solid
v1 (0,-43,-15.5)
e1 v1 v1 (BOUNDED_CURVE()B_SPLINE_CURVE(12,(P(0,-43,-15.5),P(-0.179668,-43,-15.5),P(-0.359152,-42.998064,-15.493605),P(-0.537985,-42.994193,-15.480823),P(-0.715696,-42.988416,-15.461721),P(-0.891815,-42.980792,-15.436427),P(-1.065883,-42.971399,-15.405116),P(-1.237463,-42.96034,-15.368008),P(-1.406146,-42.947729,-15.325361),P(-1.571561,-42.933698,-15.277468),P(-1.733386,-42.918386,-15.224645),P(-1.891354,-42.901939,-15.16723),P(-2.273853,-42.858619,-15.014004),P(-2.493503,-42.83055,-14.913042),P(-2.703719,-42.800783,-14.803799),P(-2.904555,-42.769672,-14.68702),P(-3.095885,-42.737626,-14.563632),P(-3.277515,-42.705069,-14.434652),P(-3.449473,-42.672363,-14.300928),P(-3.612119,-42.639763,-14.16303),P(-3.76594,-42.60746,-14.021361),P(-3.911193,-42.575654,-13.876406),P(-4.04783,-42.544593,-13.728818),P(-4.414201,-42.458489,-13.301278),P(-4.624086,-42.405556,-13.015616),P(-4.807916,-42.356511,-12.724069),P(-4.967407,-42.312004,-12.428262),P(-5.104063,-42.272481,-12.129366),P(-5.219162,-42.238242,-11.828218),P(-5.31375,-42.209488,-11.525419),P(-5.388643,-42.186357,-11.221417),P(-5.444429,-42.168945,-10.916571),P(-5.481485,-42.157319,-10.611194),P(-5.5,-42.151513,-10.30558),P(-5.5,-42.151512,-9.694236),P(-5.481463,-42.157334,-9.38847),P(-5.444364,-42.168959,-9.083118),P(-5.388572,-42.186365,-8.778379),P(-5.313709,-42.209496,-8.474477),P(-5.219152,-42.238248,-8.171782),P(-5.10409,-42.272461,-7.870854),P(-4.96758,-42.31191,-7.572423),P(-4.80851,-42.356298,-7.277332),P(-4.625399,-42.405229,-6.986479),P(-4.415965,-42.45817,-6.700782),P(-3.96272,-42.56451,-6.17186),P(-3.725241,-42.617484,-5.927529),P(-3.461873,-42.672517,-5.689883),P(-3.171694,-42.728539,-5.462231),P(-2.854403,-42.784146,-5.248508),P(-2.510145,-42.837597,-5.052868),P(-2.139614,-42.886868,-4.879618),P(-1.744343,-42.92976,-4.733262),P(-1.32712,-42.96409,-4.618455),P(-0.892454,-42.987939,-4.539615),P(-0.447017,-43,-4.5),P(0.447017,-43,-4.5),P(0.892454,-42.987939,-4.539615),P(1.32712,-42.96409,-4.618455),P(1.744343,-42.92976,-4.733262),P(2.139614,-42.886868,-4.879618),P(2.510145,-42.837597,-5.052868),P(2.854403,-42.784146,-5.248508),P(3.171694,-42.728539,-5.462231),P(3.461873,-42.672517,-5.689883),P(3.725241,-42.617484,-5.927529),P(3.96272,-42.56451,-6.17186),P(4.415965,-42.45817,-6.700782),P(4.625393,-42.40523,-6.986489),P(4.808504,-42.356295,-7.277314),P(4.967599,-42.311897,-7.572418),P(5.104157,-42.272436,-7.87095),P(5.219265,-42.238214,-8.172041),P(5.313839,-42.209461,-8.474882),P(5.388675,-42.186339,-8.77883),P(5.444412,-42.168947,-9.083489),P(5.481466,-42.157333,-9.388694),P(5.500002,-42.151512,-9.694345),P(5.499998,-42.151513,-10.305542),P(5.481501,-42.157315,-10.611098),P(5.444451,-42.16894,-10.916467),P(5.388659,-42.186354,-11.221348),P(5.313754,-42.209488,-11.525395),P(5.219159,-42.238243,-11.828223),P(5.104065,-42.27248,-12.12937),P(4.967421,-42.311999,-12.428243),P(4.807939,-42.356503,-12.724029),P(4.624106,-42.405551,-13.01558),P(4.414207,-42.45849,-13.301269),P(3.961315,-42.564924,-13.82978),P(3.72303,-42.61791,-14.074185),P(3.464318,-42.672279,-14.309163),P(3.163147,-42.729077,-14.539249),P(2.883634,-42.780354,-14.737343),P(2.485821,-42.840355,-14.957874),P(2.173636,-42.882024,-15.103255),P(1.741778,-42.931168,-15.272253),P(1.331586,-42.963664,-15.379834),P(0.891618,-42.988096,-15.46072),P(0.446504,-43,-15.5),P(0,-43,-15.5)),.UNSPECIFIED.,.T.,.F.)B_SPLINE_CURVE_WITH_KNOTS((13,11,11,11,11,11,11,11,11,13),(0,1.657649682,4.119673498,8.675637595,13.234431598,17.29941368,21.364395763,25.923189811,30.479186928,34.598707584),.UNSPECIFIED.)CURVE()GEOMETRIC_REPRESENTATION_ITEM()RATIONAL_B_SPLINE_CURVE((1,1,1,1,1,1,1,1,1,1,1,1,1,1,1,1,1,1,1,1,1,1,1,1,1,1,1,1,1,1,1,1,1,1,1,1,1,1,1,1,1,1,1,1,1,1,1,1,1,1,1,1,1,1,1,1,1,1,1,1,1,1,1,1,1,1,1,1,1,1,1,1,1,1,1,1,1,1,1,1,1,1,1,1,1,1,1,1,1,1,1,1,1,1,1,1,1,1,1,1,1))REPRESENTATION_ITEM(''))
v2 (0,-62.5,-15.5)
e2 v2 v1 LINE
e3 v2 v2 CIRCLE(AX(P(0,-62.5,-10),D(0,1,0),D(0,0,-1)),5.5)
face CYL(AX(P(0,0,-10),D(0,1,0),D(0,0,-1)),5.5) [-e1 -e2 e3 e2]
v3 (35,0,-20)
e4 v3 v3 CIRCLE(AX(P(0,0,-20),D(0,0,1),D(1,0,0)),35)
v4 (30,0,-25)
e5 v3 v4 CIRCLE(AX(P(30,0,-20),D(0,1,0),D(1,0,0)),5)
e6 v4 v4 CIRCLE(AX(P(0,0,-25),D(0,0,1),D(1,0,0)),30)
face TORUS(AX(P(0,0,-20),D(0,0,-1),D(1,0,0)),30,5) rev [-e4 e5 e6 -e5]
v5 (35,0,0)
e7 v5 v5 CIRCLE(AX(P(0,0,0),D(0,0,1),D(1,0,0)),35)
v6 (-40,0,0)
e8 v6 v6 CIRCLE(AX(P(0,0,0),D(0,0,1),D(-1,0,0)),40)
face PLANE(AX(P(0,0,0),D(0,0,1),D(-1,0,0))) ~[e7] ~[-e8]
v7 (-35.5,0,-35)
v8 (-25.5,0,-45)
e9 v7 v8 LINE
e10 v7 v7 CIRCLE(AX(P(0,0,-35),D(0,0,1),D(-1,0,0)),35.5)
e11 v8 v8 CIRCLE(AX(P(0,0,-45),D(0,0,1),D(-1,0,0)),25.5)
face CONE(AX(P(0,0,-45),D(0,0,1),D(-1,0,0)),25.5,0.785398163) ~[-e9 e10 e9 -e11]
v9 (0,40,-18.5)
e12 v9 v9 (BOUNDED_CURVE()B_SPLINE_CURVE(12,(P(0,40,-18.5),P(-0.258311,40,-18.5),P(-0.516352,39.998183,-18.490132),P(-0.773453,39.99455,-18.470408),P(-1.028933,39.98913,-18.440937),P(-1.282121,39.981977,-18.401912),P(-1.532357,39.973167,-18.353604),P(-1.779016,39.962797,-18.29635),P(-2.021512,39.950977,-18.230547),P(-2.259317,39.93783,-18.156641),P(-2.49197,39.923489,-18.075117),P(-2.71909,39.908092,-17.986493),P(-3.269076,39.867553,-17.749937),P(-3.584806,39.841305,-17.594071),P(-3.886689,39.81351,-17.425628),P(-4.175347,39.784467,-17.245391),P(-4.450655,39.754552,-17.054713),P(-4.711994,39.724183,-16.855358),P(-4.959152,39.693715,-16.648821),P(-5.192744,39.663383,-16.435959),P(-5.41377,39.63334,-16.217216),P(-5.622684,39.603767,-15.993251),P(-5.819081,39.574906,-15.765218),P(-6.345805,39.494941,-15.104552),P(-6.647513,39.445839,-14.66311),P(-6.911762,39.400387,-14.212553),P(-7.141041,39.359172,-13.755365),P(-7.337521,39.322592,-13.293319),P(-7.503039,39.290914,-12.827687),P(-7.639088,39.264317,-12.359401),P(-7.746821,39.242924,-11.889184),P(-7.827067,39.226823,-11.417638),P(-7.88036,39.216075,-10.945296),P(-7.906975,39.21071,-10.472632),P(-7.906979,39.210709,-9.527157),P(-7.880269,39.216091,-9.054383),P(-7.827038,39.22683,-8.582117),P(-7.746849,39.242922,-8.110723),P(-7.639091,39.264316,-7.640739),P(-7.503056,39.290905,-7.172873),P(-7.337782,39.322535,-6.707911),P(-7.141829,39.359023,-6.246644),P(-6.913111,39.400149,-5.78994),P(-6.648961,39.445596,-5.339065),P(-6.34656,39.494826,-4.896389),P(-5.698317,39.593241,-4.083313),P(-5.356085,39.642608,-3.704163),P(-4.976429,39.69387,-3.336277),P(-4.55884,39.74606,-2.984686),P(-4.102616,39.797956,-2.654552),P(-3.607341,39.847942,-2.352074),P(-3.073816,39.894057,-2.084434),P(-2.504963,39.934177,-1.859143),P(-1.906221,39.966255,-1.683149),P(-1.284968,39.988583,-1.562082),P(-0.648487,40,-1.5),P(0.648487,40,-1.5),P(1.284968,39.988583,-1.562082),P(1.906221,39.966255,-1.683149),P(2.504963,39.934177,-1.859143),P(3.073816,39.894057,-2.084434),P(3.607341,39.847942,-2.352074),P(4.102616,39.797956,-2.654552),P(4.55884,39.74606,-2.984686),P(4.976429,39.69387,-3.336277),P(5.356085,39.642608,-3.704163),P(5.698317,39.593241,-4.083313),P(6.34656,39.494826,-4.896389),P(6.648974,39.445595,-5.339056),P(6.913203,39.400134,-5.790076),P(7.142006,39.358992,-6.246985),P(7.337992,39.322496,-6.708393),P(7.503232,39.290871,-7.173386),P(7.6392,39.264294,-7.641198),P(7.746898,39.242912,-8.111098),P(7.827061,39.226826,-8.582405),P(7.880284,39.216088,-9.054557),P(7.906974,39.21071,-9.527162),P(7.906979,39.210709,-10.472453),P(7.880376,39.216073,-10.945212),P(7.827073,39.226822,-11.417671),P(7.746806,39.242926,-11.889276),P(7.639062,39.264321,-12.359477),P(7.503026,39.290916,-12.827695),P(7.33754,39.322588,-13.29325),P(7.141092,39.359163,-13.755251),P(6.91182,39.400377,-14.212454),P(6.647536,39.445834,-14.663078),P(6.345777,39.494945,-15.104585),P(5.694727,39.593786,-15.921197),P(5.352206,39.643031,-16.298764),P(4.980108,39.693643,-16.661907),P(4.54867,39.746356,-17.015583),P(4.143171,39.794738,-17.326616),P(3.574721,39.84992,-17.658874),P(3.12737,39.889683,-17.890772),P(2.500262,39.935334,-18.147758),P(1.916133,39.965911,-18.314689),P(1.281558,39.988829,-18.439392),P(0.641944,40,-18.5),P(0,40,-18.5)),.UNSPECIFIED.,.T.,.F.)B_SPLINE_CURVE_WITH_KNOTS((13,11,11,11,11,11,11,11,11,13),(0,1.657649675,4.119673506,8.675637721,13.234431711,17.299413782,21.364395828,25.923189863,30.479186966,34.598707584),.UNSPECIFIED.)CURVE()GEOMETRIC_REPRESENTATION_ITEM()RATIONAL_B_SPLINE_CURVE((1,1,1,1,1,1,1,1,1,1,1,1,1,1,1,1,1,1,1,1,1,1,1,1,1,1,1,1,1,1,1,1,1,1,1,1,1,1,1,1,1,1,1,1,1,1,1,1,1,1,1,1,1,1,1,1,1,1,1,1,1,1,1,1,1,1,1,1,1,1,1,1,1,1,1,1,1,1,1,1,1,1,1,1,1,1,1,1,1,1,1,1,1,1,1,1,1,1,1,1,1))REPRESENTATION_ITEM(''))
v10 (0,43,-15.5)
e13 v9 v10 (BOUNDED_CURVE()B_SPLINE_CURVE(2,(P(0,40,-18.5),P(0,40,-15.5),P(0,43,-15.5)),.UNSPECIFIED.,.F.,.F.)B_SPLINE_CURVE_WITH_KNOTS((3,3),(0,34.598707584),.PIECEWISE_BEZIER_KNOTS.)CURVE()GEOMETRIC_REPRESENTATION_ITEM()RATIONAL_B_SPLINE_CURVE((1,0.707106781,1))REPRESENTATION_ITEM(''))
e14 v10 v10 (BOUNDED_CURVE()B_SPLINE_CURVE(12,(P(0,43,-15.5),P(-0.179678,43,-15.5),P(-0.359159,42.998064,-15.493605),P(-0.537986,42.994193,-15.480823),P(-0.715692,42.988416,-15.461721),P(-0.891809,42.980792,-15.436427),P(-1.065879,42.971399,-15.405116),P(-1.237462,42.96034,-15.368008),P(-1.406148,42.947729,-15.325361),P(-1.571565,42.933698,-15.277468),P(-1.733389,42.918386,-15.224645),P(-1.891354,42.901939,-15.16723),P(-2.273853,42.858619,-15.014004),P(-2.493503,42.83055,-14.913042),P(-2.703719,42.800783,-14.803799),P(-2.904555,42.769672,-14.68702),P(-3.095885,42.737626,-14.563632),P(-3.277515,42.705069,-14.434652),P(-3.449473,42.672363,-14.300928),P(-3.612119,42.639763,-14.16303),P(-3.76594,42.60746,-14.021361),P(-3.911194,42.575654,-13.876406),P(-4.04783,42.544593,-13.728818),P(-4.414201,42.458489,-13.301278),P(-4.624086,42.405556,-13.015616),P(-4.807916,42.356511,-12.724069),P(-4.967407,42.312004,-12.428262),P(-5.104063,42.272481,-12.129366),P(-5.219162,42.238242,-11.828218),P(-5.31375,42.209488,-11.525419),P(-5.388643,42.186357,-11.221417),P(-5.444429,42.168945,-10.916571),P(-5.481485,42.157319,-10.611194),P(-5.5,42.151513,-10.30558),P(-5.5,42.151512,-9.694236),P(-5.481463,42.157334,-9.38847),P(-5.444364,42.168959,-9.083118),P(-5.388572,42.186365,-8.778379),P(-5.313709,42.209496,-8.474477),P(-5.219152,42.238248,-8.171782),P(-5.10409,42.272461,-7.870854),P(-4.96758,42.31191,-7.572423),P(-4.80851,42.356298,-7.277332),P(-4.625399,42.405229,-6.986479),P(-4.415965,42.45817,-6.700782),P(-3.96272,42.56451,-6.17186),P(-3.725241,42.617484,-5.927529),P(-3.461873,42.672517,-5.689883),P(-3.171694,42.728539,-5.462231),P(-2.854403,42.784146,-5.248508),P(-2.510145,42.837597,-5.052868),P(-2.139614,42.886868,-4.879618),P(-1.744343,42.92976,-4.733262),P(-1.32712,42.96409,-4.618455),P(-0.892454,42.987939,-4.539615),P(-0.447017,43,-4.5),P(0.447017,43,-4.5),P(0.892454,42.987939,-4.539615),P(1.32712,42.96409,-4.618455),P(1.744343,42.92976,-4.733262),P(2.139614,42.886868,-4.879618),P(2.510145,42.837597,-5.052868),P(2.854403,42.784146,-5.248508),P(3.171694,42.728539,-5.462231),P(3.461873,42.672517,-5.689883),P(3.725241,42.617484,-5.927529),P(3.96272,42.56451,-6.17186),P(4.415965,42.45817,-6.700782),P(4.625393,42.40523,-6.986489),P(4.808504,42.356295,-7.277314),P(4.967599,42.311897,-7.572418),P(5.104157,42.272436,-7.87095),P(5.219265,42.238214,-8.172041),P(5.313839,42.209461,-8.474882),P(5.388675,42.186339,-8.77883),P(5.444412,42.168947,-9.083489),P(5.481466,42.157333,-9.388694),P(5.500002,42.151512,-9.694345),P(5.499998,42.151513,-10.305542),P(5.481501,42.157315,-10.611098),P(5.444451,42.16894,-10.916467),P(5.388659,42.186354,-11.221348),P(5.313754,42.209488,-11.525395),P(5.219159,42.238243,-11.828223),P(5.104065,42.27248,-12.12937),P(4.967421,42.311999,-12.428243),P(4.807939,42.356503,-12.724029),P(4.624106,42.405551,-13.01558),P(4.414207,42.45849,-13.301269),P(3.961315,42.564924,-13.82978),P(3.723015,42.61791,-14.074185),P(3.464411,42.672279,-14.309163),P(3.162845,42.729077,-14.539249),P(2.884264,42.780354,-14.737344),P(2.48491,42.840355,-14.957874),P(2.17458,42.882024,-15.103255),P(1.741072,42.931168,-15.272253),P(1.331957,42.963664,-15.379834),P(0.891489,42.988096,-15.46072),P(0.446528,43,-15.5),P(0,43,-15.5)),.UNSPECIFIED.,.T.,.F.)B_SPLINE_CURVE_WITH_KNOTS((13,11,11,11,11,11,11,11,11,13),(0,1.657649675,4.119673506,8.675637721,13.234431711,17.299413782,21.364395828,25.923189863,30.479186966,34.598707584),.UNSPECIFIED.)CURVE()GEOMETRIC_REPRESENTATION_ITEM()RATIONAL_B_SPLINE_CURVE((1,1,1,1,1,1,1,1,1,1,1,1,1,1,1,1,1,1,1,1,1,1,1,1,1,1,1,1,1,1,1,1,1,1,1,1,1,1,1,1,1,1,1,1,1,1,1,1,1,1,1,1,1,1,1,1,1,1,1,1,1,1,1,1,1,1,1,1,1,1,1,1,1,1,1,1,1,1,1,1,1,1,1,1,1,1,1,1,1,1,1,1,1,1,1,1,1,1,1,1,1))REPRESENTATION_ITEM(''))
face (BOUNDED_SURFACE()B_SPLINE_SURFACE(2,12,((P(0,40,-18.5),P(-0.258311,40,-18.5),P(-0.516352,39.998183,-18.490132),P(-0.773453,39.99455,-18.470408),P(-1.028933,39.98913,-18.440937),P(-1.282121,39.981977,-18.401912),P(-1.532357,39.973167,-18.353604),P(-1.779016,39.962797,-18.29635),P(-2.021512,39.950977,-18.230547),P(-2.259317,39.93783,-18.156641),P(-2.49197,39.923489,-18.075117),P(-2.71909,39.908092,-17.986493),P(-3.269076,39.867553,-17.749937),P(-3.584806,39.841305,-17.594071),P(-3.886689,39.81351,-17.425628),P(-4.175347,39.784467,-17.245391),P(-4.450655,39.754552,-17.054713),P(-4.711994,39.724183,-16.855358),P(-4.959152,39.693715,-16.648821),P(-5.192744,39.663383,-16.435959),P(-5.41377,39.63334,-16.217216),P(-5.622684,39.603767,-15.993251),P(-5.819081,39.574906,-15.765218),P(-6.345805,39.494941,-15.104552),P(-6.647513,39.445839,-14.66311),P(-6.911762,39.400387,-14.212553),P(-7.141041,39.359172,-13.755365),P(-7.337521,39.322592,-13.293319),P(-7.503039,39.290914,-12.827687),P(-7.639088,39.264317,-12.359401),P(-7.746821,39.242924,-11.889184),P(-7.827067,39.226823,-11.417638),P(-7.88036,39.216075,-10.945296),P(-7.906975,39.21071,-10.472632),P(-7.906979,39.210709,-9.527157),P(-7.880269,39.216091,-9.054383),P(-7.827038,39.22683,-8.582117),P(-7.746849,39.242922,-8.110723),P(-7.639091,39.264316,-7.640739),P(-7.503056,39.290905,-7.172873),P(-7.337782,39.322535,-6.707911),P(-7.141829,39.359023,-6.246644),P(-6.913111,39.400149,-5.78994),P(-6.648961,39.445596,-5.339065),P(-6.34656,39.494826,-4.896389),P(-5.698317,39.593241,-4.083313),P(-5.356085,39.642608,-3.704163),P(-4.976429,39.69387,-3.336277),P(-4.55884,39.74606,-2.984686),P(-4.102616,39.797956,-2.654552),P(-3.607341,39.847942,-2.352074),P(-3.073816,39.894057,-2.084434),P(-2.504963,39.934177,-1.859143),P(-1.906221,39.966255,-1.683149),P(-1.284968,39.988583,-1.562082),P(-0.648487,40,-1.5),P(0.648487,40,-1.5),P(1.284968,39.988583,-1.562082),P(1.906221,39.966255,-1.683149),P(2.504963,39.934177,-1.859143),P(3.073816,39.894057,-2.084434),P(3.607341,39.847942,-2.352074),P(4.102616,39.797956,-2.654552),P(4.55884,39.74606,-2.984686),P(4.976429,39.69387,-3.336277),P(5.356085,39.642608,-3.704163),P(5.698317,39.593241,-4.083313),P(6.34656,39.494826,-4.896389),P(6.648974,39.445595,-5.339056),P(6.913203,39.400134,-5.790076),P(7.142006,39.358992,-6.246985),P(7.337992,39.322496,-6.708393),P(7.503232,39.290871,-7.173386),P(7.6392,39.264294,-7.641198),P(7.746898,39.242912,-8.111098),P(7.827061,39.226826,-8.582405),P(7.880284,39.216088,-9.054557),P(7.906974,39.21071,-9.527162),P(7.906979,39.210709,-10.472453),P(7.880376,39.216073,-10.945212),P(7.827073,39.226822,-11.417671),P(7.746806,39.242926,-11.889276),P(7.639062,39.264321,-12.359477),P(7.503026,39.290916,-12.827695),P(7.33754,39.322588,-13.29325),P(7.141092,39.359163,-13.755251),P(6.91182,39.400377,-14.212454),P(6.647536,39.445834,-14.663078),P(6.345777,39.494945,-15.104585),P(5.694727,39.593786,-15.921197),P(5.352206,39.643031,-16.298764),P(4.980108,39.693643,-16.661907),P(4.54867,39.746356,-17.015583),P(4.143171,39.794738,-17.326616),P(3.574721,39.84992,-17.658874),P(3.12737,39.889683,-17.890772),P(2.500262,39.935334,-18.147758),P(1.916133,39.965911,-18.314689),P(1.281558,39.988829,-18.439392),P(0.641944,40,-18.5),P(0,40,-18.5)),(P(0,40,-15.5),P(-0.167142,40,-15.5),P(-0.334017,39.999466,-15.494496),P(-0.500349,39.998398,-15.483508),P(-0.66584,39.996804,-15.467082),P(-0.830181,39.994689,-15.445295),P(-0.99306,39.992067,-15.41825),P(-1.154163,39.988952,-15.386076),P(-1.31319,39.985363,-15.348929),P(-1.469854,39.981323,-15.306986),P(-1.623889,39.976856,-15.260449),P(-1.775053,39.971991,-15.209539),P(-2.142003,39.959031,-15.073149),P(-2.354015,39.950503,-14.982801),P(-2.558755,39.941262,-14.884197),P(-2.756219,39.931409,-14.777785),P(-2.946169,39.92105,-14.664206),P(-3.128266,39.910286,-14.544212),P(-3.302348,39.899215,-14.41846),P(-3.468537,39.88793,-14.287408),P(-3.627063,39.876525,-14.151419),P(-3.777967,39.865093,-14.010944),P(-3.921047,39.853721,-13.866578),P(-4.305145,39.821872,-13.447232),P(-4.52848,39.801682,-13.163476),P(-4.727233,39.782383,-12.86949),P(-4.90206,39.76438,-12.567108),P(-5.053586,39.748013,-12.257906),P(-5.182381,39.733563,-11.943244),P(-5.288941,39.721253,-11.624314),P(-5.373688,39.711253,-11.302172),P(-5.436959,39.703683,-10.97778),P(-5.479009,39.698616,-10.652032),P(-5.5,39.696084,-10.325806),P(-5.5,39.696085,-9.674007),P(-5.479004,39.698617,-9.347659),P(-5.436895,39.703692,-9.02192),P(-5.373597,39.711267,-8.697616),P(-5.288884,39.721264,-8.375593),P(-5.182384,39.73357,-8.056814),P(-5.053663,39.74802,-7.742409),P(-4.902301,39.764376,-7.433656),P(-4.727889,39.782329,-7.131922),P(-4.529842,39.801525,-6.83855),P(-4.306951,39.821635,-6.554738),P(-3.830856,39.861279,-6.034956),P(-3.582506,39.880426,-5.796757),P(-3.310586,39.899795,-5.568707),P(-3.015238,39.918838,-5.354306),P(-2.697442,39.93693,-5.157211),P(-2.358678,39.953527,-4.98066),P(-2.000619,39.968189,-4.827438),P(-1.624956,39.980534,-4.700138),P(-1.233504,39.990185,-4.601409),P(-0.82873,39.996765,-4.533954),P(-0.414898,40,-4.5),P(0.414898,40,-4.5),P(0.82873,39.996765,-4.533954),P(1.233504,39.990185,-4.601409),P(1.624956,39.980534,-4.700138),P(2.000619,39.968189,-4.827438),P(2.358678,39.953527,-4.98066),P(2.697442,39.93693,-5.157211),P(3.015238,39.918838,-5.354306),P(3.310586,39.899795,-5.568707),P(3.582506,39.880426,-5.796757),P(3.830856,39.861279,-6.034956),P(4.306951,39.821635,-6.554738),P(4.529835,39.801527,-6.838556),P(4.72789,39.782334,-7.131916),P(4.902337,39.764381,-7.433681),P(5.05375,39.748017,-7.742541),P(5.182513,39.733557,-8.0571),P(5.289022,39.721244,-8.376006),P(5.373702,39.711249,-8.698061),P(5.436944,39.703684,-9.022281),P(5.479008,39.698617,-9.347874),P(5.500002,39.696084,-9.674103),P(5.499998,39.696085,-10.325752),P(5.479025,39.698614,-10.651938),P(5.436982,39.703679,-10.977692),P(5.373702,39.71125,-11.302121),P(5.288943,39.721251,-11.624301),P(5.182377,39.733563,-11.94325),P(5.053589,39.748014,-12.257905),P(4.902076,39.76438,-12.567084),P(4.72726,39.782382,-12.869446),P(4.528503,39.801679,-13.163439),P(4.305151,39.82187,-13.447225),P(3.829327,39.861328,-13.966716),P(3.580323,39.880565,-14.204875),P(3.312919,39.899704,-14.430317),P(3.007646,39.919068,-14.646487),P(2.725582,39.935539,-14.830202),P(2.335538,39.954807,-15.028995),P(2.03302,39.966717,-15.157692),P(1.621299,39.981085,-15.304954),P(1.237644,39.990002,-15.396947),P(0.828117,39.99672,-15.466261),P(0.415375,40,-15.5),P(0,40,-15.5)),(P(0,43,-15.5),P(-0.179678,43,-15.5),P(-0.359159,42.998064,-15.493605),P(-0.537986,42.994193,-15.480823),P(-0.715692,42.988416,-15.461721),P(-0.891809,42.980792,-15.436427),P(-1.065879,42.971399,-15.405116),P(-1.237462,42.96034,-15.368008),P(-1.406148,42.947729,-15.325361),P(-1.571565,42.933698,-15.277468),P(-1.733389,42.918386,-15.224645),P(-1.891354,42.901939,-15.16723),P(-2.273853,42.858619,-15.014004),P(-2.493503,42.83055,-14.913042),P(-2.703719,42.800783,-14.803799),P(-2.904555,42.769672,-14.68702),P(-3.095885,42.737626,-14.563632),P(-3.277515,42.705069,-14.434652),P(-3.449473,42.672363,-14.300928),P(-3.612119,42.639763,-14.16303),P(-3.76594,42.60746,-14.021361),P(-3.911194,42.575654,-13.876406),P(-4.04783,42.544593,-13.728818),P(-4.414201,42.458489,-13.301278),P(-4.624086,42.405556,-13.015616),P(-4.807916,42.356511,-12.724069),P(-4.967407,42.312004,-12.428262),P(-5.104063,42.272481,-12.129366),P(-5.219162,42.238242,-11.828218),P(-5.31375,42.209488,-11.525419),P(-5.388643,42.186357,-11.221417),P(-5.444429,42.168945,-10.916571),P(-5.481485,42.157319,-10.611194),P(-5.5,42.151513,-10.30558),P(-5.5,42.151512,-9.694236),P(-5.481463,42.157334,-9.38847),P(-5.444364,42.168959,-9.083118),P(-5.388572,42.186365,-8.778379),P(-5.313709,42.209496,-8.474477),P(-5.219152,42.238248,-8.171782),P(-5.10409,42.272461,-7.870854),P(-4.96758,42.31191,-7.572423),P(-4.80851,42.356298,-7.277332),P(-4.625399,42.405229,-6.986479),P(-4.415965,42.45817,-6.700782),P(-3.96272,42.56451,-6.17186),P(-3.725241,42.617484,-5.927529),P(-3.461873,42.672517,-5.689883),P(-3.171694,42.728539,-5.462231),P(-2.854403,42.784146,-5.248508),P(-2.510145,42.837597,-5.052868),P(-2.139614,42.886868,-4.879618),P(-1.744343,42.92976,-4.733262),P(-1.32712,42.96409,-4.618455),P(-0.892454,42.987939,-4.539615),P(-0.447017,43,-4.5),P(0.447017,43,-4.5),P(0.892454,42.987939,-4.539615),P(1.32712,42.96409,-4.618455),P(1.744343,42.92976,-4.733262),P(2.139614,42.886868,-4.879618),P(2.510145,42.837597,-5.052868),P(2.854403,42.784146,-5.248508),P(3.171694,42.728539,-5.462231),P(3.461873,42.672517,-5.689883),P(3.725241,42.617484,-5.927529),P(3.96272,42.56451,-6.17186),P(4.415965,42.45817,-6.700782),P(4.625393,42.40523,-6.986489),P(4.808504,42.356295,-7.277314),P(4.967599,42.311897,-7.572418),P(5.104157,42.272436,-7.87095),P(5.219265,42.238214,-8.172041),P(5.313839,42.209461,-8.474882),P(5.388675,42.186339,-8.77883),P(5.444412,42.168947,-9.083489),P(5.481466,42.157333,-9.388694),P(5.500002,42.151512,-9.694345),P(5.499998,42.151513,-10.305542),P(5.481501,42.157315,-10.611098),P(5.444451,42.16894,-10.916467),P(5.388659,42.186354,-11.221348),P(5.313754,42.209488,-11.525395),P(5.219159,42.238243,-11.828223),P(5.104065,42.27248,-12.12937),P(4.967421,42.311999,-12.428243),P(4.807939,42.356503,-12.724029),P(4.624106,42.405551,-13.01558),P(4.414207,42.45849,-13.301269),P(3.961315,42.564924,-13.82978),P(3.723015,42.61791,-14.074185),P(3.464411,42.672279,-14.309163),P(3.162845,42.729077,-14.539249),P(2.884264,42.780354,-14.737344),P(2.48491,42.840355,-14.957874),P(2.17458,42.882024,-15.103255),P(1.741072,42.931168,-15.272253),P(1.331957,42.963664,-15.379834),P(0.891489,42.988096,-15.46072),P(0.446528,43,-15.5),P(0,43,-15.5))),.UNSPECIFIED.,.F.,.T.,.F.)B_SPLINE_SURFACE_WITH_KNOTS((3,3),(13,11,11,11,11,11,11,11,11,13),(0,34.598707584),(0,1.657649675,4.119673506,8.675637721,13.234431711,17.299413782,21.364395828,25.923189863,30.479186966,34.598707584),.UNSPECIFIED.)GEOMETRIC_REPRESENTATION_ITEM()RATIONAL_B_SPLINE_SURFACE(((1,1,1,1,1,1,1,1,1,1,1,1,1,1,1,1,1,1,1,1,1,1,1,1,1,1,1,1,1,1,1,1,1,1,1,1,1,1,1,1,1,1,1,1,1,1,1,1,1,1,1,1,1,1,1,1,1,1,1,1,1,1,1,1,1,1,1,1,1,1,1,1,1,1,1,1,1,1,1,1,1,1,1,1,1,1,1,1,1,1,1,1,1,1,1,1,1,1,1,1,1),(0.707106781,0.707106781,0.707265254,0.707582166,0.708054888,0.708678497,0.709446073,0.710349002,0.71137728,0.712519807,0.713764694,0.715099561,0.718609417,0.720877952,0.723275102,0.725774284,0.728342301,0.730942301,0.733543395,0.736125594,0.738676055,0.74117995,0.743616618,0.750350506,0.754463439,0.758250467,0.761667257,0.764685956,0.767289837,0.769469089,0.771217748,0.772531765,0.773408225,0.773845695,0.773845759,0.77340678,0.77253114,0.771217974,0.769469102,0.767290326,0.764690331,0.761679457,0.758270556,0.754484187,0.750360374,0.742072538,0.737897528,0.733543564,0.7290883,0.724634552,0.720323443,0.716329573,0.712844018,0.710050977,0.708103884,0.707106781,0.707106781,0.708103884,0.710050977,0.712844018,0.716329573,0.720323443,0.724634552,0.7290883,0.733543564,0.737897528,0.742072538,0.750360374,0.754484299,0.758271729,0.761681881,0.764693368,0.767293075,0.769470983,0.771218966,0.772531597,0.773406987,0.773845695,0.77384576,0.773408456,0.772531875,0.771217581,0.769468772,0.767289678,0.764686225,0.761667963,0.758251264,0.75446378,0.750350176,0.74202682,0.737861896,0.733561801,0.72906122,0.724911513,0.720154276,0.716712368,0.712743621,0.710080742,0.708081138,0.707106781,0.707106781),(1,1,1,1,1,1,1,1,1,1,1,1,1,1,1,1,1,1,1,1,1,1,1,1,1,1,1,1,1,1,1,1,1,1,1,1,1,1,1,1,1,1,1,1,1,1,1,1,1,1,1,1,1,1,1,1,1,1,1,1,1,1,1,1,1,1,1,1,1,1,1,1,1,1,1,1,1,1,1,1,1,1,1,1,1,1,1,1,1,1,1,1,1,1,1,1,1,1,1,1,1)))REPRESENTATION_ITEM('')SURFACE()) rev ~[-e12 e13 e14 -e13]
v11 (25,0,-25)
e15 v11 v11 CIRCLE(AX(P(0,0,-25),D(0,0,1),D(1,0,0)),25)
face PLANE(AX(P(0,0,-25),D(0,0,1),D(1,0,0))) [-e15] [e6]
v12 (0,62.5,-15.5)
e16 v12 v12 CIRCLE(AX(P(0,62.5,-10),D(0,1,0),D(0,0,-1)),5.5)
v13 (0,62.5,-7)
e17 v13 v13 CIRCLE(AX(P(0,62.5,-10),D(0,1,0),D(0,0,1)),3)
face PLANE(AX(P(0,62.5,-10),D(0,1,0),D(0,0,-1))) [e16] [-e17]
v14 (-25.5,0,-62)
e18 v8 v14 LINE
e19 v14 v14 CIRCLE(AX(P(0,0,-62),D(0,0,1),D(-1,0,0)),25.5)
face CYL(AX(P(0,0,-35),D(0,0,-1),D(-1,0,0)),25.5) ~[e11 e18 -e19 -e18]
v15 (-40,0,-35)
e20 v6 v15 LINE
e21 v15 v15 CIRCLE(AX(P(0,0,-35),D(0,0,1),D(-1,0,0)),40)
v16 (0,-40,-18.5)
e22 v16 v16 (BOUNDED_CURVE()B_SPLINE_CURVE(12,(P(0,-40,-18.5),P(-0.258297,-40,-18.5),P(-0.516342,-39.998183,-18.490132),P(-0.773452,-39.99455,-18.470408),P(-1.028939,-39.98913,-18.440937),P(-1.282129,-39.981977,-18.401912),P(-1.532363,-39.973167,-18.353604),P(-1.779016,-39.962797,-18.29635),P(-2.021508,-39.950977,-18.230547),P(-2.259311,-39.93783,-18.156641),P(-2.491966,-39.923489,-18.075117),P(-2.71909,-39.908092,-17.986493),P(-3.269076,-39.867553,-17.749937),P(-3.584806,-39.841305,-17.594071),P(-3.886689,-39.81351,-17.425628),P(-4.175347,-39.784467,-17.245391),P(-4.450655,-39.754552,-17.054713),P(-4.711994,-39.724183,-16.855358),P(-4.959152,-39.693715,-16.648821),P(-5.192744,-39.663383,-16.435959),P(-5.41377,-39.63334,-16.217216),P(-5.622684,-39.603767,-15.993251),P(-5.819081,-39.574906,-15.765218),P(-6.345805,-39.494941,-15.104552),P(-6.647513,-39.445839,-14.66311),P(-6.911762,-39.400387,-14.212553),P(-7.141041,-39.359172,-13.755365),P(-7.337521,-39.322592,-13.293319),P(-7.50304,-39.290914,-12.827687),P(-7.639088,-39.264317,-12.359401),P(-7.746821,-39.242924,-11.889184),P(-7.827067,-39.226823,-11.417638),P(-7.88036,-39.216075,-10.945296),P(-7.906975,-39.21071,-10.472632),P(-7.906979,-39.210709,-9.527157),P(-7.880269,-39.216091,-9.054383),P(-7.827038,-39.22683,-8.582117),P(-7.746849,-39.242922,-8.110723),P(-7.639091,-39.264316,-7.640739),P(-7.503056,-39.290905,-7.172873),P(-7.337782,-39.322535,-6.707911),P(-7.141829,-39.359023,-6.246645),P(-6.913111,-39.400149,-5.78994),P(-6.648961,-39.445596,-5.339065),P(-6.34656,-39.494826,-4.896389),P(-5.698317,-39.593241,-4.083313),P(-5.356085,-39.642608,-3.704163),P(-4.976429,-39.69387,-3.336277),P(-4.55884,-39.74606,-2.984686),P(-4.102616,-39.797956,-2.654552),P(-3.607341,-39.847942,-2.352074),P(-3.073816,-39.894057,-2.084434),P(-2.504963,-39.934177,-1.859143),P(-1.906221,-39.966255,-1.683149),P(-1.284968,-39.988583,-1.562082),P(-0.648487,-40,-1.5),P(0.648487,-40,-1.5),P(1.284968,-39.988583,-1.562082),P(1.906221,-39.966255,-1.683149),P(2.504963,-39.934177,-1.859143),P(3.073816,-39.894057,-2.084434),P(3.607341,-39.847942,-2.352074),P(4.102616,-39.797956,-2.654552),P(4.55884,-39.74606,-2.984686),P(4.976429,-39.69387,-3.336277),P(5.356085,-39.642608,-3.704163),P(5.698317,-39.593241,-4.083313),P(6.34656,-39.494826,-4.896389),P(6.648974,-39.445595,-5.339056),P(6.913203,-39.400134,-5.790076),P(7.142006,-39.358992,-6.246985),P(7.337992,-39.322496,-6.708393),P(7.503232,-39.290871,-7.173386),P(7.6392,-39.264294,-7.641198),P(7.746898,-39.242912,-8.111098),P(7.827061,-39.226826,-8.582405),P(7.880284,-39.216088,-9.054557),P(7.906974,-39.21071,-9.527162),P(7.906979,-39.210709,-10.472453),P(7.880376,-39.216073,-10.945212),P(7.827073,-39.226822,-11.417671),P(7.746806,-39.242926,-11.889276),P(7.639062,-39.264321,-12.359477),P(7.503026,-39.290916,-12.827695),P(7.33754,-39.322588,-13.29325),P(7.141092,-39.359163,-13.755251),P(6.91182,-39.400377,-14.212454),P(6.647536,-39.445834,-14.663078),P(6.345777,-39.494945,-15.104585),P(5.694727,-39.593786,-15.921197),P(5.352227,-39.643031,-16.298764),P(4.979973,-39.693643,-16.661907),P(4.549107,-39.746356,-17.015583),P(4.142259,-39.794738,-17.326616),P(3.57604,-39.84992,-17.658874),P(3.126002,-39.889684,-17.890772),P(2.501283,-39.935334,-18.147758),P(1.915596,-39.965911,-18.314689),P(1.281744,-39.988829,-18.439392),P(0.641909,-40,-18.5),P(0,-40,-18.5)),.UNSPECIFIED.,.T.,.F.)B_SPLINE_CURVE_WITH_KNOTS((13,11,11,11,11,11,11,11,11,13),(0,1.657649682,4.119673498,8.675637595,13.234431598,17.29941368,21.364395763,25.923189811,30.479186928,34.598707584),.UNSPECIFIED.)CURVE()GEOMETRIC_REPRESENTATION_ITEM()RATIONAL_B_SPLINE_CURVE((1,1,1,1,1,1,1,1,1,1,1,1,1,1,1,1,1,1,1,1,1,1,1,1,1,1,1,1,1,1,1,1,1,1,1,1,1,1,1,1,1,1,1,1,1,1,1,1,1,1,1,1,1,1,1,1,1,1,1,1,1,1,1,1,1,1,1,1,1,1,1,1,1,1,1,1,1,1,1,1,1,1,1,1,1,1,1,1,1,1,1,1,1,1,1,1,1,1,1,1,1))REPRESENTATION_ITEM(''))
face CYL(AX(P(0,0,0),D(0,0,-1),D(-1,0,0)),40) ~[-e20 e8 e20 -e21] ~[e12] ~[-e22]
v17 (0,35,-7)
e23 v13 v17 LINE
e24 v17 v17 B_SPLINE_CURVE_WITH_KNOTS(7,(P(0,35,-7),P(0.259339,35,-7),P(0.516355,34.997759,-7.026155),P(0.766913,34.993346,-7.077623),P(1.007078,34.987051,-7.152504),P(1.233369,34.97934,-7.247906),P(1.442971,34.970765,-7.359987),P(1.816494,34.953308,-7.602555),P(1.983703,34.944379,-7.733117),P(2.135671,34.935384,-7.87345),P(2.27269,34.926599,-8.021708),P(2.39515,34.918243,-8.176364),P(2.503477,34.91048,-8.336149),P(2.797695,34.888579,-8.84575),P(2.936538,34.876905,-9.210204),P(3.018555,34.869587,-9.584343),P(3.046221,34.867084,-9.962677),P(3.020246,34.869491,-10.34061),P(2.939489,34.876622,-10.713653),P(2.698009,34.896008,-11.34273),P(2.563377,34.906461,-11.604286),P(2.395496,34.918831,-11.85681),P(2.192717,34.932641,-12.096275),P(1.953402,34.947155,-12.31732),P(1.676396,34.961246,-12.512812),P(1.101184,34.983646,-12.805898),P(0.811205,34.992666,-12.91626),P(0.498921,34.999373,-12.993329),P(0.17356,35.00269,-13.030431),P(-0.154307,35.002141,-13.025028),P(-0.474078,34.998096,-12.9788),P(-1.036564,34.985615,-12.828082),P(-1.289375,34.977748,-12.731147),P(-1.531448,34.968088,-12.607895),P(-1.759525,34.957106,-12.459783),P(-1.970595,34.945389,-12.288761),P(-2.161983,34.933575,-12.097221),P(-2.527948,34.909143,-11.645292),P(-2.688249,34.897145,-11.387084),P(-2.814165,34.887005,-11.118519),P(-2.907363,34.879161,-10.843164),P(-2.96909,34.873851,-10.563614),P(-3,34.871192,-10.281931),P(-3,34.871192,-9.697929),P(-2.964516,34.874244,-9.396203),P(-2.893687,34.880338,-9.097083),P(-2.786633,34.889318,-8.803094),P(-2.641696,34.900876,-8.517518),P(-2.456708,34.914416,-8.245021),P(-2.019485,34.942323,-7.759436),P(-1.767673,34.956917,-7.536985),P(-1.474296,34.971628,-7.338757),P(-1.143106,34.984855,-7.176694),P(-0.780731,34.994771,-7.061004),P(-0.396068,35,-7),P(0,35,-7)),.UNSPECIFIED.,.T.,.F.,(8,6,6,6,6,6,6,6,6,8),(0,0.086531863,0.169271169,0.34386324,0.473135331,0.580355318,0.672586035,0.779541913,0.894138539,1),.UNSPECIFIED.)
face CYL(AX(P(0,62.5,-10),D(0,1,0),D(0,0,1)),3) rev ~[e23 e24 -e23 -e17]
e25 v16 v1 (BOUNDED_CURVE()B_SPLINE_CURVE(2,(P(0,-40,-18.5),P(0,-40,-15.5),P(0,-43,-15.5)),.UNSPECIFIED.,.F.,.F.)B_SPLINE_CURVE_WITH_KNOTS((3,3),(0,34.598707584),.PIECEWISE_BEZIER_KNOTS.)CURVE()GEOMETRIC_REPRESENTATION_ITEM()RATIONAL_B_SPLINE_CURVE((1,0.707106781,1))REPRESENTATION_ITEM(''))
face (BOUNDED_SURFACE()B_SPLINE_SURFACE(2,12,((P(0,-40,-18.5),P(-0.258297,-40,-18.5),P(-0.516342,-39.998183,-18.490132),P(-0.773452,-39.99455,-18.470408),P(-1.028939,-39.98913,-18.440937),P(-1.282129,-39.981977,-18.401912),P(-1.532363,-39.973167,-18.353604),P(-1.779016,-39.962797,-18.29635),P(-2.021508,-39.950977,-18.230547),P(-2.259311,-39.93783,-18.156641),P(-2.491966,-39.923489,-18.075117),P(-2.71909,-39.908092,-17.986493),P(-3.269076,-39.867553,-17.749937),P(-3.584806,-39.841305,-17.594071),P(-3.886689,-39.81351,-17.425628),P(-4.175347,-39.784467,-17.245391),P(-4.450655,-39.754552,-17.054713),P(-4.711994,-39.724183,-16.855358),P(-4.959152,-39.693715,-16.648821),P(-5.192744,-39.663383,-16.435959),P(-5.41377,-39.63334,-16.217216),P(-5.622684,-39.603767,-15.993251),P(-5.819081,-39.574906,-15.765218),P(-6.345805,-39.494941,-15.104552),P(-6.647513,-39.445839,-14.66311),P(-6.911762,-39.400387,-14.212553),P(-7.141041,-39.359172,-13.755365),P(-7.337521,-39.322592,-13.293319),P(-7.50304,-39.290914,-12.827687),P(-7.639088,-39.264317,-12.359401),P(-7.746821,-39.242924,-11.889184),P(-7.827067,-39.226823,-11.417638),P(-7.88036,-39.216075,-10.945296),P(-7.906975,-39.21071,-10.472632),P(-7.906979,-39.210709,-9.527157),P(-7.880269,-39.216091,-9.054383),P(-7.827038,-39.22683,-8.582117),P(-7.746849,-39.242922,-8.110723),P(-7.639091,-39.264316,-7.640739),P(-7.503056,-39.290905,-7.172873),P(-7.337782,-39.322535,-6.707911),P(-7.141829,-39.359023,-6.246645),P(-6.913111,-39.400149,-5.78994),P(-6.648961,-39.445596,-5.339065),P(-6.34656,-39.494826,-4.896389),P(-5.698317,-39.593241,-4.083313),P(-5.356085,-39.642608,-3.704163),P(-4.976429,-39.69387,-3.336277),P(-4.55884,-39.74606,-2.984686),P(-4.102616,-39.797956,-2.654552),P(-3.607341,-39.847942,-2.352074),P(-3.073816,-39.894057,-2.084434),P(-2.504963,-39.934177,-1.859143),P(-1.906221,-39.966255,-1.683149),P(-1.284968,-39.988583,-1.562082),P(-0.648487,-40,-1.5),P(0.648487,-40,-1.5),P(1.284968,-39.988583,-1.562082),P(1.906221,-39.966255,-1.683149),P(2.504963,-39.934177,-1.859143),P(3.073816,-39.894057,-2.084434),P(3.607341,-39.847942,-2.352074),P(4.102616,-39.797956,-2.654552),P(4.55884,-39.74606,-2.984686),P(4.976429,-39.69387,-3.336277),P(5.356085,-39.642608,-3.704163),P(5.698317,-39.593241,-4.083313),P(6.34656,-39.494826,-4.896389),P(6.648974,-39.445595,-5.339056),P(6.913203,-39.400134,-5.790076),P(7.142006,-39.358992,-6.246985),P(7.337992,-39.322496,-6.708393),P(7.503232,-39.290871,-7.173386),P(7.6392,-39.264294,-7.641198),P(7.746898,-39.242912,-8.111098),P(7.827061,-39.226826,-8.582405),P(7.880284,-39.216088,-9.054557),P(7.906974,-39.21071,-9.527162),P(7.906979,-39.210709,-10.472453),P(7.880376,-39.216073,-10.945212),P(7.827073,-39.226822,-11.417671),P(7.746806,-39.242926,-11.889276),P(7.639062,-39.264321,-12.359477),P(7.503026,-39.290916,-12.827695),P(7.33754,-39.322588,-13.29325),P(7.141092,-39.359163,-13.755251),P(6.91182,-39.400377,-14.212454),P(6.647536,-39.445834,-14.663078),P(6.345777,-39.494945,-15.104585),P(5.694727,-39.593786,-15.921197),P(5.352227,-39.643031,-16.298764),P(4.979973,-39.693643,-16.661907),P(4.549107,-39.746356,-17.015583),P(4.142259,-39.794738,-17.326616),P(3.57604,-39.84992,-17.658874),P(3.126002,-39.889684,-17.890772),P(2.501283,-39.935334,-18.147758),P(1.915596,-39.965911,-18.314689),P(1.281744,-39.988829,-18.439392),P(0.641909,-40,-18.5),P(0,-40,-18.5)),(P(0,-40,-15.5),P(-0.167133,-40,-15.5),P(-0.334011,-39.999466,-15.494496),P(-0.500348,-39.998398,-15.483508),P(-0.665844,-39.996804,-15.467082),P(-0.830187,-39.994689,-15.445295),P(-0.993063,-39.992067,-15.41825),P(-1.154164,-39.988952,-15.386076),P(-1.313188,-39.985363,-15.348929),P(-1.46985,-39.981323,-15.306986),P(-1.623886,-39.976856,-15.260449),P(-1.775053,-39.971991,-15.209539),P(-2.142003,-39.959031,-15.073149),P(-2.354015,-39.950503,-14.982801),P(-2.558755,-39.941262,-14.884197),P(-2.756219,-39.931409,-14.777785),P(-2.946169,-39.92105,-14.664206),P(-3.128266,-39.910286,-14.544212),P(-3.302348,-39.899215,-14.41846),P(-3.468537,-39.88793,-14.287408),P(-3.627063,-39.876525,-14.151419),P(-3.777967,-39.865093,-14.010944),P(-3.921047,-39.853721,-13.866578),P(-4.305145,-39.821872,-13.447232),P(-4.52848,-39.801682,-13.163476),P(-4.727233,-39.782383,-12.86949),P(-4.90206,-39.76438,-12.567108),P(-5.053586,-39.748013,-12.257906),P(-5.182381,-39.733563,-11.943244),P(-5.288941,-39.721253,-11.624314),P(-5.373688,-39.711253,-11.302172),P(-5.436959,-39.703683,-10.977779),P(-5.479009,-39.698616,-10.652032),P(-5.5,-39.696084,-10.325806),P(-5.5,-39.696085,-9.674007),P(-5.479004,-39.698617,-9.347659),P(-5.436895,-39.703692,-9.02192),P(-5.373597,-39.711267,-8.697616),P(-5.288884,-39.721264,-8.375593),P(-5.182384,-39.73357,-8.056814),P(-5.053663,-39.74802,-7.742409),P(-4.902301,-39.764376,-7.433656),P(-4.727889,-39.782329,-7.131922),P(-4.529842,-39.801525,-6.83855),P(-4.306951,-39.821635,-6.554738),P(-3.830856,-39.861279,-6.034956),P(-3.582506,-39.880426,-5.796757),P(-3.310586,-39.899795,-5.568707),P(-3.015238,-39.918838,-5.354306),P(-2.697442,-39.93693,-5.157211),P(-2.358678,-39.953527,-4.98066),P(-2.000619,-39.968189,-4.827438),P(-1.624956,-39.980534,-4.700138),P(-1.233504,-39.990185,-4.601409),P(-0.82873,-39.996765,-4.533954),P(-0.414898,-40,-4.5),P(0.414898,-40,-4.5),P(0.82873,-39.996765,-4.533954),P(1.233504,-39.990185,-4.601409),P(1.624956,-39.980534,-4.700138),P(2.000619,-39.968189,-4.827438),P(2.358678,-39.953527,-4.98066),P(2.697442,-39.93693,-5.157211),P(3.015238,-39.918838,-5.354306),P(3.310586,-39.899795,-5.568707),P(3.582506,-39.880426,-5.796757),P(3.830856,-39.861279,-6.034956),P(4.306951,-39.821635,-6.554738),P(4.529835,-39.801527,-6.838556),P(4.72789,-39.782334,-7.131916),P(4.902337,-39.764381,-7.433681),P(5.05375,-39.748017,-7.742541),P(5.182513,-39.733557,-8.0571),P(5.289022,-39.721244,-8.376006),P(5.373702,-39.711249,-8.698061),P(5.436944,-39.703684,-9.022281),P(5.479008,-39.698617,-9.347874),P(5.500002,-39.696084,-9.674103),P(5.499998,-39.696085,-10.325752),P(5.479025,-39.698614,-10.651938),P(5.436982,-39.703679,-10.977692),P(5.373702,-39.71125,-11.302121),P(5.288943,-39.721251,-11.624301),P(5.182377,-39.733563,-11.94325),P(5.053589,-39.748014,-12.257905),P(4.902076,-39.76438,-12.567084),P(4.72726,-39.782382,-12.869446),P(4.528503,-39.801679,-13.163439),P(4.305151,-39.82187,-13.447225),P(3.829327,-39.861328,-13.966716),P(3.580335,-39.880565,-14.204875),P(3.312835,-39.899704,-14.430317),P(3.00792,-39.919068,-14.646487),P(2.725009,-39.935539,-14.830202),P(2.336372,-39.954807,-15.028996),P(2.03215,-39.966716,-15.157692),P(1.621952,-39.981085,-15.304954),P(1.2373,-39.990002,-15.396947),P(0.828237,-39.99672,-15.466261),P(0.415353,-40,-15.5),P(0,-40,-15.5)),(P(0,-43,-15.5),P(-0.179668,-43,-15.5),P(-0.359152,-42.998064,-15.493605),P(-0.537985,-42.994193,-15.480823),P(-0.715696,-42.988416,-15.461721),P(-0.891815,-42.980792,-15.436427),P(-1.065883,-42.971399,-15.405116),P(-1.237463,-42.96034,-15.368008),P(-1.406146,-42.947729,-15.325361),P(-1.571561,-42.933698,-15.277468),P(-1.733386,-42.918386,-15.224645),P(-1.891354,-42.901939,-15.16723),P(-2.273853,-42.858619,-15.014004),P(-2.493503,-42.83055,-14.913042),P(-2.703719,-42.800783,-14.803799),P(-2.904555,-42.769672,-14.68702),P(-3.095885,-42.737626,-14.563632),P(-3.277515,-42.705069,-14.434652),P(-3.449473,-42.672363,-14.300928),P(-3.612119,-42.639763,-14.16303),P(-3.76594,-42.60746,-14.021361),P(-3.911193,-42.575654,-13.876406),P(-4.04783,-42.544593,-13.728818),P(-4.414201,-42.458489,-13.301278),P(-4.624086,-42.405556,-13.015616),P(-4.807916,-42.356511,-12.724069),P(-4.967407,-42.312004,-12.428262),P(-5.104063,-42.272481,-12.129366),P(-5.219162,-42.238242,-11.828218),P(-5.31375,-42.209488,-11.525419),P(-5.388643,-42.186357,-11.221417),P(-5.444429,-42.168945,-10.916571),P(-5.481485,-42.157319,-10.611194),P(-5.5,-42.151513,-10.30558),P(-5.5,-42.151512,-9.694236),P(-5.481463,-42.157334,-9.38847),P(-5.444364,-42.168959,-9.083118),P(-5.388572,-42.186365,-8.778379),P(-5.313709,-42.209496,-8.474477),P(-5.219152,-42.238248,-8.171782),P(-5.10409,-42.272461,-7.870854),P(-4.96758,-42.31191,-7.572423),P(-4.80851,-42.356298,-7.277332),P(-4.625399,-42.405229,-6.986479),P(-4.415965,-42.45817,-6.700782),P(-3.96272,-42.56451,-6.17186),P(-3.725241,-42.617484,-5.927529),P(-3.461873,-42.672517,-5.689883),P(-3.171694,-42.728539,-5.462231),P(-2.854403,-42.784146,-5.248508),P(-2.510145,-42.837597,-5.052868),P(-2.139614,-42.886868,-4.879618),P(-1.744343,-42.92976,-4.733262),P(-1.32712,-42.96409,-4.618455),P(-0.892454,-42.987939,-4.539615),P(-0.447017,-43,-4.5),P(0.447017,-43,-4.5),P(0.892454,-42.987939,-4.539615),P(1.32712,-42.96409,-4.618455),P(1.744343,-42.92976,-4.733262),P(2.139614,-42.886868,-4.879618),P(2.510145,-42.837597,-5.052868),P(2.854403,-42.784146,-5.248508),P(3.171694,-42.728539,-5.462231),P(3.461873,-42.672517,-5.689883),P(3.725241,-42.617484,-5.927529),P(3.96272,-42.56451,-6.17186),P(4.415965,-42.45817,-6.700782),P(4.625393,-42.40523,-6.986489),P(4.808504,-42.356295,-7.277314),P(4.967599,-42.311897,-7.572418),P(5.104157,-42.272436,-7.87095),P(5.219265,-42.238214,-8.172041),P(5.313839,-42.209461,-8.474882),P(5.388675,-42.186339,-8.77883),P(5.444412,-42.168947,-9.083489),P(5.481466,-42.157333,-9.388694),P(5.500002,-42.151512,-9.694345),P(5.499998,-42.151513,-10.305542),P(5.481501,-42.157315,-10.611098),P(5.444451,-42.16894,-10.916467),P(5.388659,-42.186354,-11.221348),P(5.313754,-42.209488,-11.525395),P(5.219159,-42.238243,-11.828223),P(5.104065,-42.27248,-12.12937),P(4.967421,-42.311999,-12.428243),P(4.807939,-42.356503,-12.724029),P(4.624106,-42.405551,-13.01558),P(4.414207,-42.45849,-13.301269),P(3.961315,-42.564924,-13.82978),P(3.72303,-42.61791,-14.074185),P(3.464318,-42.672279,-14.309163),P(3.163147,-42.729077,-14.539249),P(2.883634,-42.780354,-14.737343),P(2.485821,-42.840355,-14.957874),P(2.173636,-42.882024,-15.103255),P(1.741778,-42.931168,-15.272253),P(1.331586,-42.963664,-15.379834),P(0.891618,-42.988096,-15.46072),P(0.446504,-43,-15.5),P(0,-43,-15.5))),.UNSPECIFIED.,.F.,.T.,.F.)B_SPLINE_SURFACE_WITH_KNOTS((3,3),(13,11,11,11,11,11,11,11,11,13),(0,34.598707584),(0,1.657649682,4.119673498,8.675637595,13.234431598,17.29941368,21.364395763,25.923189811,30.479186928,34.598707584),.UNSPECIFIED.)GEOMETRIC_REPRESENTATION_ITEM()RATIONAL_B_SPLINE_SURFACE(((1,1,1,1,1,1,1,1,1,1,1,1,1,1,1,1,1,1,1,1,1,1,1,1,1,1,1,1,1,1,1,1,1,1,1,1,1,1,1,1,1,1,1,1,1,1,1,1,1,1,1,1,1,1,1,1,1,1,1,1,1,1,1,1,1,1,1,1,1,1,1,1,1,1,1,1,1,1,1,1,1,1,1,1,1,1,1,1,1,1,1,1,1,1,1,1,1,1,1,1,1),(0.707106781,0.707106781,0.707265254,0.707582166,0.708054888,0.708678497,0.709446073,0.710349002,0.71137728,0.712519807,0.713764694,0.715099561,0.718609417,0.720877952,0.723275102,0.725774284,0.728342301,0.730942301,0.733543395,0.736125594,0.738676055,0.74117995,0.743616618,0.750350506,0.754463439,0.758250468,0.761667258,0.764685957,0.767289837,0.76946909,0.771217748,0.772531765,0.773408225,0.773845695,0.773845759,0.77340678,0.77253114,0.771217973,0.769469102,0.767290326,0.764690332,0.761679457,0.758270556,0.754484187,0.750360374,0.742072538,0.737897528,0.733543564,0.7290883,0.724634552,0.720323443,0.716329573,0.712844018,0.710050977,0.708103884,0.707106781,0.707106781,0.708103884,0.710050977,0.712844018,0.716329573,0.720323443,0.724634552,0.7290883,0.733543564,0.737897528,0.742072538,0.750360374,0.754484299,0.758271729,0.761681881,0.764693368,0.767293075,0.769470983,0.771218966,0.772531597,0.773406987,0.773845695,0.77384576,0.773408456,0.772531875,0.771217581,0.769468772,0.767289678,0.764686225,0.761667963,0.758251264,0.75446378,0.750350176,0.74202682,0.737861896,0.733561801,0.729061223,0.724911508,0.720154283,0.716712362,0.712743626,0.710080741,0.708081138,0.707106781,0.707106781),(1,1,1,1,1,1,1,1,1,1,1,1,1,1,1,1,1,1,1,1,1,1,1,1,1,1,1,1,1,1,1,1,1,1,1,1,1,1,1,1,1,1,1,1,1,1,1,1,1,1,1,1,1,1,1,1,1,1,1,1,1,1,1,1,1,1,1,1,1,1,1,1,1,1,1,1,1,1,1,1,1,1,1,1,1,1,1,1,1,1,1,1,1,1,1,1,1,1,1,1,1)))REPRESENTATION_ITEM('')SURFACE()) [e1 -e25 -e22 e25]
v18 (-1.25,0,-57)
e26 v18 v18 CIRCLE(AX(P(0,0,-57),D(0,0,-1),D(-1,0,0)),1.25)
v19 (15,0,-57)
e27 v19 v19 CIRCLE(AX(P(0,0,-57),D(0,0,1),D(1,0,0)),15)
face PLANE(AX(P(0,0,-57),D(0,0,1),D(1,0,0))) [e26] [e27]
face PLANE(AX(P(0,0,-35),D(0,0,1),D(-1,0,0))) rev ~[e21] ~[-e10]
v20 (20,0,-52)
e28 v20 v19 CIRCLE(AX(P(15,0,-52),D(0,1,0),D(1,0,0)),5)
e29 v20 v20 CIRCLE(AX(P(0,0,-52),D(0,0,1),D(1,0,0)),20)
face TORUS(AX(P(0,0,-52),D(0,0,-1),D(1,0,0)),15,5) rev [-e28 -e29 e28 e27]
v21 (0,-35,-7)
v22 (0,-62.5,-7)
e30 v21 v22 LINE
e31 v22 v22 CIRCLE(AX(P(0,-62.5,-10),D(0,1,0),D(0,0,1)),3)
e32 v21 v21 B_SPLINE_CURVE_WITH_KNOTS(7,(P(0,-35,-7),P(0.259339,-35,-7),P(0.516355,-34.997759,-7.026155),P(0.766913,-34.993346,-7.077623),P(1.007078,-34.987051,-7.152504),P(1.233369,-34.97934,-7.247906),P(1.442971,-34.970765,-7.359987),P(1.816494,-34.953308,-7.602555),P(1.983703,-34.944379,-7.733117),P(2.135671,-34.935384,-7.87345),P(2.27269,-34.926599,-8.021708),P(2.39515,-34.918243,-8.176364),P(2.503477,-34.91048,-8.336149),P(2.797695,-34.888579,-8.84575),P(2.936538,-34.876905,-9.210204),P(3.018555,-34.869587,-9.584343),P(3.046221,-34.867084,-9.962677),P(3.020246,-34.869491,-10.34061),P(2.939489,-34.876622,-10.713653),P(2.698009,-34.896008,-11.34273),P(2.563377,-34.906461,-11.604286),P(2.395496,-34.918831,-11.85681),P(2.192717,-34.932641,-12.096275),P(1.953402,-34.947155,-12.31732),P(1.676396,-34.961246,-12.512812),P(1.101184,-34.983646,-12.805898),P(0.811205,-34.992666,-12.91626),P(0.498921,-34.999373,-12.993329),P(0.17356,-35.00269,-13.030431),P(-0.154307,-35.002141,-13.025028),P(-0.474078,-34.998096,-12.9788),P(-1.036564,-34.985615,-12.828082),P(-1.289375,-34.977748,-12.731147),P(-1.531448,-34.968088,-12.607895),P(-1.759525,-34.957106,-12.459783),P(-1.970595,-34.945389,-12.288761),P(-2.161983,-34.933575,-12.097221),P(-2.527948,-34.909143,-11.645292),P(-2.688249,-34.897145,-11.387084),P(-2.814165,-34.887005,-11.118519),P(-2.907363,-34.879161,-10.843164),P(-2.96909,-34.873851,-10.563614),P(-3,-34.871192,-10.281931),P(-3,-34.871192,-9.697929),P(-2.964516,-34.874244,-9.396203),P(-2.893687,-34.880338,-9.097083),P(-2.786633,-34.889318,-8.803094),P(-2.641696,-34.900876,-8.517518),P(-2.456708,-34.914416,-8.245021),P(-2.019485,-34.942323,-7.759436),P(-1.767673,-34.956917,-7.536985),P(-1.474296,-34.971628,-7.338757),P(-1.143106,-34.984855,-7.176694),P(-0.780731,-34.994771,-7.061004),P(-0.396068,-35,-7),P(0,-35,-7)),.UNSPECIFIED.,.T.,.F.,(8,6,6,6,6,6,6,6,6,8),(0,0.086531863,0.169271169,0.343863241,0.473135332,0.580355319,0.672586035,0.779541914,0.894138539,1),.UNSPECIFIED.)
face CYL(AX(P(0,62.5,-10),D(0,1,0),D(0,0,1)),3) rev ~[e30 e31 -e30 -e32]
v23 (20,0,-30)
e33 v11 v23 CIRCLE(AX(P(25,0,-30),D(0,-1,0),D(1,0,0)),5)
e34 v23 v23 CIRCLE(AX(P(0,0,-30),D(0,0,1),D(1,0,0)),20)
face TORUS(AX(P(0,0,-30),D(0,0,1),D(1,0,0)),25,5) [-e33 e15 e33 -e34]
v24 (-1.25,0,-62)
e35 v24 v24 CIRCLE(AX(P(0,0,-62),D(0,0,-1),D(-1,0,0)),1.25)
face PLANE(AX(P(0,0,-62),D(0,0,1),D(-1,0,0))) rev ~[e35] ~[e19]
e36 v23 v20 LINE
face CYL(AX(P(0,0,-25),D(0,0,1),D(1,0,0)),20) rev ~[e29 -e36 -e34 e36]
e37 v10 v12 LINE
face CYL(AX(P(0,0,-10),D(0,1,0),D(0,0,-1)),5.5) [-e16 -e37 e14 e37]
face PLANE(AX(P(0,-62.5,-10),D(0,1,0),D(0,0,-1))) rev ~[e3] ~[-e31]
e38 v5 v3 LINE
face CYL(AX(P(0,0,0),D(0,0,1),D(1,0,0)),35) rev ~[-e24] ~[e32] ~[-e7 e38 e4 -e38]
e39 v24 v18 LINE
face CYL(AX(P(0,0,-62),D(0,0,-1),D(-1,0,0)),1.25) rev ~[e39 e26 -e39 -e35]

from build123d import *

# Parameters (mm, degrees)
CHAMFER1_SIZE       = 10
SKETCH2_R           = 1.25
CUT_EXTRUDE1_DEPTH  = 30
SKETCH5_R           = 5.5
BOSS_EXTRUDE1_DEPTH = 62.5
SKETCH3_R           = 35
CUT_EXTRUDE2_DEPTH  = 25
SKETCH4_R           = 20
CUT_EXTRUDE3_DEPTH  = 32
FILLET1_R           = 5
FILLET2_R           = 3
SKETCH6_R           = 3
CUT_EXTRUDE4_DEPTH  = 146.151644955


with BuildPart() as part:
    # Sketch1 → Revolve1 (revolve)
    with BuildSketch(Plane(origin=(0, 0, 0), x_dir=(1, 0, 0), z_dir=(0, 1, 0)), mode=Mode.PRIVATE) as revolve1_sk:
        Polygon((0, 0), (40, 0), (40, 35), (25.5, 35), (25.5, 62), (0, 62), align=None)
    revolve(revolve1_sk.sketch.rotate(Axis((0, 0, -62), (0, 0, 1)), 180), axis=Axis((0, 0, -62), (0, 0, 1)))

    # Chamfer1
    chamfer1_edges = [part.edges().sort_by_distance(p)[0] for p in [
        (25.5, 0, -35),
    ]]
    chamfer(chamfer1_edges, length=CHAMFER1_SIZE)

    # Sketch2 → Cut-Extrude1 (cut)
    with BuildSketch(Plane(origin=(0, 0, -62), x_dir=(-1, 0, 0), z_dir=(0, 0, -1))):
        Circle(SKETCH2_R)
    extrude(amount=-CUT_EXTRUDE1_DEPTH, mode=Mode.SUBTRACT)

    # Sketch5 → Boss-Extrude1 (add, symmetric)
    with BuildSketch(Plane(origin=(0, 0, 0), x_dir=(1, 0, 0), z_dir=(0, 1, 0))):
        with Locations(Location((0, 10, 0), (0, 0, 90))):
            Circle(SKETCH5_R)
    extrude(amount=BOSS_EXTRUDE1_DEPTH, both=True)

    # Sketch3 → Cut-Extrude2 (cut)
    with BuildSketch(Plane.XY):
        Circle(SKETCH3_R)
    extrude(amount=-CUT_EXTRUDE2_DEPTH, mode=Mode.SUBTRACT)

    # Sketch4 → Cut-Extrude3 (cut)
    with BuildSketch(Plane.XY.offset(-25)):
        Circle(SKETCH4_R)
    extrude(amount=-CUT_EXTRUDE3_DEPTH, mode=Mode.SUBTRACT)

    # Fillet1
    fillet1_edges = [part.edges().sort_by_distance(p)[0] for p in [
        (-35, 0, -25),
        (-20, 0, -57),
        (-20, 0, -25),
    ]]
    fillet(fillet1_edges, radius=FILLET1_R)

    # Fillet2
    fillet2_edges = [part.edges().sort_by_distance(p)[0] for p in [
        (0, -40, -4.5),
        (0, 40, -4.5),
    ]]
    fillet(fillet2_edges, radius=FILLET2_R)

    # Sketch6 → Cut-Extrude4 (cut, through all)
    with BuildSketch(Plane(origin=(0, 62.5, 0), x_dir=(1, 0, 0), z_dir=(0, 1, 0))):
        with Locations(Location((0, 10, 0), (0, 0, 270))):
            Circle(SKETCH6_R)
    extrude(amount=-CUT_EXTRUDE4_DEPTH, mode=Mode.SUBTRACT)


solid = part.part
